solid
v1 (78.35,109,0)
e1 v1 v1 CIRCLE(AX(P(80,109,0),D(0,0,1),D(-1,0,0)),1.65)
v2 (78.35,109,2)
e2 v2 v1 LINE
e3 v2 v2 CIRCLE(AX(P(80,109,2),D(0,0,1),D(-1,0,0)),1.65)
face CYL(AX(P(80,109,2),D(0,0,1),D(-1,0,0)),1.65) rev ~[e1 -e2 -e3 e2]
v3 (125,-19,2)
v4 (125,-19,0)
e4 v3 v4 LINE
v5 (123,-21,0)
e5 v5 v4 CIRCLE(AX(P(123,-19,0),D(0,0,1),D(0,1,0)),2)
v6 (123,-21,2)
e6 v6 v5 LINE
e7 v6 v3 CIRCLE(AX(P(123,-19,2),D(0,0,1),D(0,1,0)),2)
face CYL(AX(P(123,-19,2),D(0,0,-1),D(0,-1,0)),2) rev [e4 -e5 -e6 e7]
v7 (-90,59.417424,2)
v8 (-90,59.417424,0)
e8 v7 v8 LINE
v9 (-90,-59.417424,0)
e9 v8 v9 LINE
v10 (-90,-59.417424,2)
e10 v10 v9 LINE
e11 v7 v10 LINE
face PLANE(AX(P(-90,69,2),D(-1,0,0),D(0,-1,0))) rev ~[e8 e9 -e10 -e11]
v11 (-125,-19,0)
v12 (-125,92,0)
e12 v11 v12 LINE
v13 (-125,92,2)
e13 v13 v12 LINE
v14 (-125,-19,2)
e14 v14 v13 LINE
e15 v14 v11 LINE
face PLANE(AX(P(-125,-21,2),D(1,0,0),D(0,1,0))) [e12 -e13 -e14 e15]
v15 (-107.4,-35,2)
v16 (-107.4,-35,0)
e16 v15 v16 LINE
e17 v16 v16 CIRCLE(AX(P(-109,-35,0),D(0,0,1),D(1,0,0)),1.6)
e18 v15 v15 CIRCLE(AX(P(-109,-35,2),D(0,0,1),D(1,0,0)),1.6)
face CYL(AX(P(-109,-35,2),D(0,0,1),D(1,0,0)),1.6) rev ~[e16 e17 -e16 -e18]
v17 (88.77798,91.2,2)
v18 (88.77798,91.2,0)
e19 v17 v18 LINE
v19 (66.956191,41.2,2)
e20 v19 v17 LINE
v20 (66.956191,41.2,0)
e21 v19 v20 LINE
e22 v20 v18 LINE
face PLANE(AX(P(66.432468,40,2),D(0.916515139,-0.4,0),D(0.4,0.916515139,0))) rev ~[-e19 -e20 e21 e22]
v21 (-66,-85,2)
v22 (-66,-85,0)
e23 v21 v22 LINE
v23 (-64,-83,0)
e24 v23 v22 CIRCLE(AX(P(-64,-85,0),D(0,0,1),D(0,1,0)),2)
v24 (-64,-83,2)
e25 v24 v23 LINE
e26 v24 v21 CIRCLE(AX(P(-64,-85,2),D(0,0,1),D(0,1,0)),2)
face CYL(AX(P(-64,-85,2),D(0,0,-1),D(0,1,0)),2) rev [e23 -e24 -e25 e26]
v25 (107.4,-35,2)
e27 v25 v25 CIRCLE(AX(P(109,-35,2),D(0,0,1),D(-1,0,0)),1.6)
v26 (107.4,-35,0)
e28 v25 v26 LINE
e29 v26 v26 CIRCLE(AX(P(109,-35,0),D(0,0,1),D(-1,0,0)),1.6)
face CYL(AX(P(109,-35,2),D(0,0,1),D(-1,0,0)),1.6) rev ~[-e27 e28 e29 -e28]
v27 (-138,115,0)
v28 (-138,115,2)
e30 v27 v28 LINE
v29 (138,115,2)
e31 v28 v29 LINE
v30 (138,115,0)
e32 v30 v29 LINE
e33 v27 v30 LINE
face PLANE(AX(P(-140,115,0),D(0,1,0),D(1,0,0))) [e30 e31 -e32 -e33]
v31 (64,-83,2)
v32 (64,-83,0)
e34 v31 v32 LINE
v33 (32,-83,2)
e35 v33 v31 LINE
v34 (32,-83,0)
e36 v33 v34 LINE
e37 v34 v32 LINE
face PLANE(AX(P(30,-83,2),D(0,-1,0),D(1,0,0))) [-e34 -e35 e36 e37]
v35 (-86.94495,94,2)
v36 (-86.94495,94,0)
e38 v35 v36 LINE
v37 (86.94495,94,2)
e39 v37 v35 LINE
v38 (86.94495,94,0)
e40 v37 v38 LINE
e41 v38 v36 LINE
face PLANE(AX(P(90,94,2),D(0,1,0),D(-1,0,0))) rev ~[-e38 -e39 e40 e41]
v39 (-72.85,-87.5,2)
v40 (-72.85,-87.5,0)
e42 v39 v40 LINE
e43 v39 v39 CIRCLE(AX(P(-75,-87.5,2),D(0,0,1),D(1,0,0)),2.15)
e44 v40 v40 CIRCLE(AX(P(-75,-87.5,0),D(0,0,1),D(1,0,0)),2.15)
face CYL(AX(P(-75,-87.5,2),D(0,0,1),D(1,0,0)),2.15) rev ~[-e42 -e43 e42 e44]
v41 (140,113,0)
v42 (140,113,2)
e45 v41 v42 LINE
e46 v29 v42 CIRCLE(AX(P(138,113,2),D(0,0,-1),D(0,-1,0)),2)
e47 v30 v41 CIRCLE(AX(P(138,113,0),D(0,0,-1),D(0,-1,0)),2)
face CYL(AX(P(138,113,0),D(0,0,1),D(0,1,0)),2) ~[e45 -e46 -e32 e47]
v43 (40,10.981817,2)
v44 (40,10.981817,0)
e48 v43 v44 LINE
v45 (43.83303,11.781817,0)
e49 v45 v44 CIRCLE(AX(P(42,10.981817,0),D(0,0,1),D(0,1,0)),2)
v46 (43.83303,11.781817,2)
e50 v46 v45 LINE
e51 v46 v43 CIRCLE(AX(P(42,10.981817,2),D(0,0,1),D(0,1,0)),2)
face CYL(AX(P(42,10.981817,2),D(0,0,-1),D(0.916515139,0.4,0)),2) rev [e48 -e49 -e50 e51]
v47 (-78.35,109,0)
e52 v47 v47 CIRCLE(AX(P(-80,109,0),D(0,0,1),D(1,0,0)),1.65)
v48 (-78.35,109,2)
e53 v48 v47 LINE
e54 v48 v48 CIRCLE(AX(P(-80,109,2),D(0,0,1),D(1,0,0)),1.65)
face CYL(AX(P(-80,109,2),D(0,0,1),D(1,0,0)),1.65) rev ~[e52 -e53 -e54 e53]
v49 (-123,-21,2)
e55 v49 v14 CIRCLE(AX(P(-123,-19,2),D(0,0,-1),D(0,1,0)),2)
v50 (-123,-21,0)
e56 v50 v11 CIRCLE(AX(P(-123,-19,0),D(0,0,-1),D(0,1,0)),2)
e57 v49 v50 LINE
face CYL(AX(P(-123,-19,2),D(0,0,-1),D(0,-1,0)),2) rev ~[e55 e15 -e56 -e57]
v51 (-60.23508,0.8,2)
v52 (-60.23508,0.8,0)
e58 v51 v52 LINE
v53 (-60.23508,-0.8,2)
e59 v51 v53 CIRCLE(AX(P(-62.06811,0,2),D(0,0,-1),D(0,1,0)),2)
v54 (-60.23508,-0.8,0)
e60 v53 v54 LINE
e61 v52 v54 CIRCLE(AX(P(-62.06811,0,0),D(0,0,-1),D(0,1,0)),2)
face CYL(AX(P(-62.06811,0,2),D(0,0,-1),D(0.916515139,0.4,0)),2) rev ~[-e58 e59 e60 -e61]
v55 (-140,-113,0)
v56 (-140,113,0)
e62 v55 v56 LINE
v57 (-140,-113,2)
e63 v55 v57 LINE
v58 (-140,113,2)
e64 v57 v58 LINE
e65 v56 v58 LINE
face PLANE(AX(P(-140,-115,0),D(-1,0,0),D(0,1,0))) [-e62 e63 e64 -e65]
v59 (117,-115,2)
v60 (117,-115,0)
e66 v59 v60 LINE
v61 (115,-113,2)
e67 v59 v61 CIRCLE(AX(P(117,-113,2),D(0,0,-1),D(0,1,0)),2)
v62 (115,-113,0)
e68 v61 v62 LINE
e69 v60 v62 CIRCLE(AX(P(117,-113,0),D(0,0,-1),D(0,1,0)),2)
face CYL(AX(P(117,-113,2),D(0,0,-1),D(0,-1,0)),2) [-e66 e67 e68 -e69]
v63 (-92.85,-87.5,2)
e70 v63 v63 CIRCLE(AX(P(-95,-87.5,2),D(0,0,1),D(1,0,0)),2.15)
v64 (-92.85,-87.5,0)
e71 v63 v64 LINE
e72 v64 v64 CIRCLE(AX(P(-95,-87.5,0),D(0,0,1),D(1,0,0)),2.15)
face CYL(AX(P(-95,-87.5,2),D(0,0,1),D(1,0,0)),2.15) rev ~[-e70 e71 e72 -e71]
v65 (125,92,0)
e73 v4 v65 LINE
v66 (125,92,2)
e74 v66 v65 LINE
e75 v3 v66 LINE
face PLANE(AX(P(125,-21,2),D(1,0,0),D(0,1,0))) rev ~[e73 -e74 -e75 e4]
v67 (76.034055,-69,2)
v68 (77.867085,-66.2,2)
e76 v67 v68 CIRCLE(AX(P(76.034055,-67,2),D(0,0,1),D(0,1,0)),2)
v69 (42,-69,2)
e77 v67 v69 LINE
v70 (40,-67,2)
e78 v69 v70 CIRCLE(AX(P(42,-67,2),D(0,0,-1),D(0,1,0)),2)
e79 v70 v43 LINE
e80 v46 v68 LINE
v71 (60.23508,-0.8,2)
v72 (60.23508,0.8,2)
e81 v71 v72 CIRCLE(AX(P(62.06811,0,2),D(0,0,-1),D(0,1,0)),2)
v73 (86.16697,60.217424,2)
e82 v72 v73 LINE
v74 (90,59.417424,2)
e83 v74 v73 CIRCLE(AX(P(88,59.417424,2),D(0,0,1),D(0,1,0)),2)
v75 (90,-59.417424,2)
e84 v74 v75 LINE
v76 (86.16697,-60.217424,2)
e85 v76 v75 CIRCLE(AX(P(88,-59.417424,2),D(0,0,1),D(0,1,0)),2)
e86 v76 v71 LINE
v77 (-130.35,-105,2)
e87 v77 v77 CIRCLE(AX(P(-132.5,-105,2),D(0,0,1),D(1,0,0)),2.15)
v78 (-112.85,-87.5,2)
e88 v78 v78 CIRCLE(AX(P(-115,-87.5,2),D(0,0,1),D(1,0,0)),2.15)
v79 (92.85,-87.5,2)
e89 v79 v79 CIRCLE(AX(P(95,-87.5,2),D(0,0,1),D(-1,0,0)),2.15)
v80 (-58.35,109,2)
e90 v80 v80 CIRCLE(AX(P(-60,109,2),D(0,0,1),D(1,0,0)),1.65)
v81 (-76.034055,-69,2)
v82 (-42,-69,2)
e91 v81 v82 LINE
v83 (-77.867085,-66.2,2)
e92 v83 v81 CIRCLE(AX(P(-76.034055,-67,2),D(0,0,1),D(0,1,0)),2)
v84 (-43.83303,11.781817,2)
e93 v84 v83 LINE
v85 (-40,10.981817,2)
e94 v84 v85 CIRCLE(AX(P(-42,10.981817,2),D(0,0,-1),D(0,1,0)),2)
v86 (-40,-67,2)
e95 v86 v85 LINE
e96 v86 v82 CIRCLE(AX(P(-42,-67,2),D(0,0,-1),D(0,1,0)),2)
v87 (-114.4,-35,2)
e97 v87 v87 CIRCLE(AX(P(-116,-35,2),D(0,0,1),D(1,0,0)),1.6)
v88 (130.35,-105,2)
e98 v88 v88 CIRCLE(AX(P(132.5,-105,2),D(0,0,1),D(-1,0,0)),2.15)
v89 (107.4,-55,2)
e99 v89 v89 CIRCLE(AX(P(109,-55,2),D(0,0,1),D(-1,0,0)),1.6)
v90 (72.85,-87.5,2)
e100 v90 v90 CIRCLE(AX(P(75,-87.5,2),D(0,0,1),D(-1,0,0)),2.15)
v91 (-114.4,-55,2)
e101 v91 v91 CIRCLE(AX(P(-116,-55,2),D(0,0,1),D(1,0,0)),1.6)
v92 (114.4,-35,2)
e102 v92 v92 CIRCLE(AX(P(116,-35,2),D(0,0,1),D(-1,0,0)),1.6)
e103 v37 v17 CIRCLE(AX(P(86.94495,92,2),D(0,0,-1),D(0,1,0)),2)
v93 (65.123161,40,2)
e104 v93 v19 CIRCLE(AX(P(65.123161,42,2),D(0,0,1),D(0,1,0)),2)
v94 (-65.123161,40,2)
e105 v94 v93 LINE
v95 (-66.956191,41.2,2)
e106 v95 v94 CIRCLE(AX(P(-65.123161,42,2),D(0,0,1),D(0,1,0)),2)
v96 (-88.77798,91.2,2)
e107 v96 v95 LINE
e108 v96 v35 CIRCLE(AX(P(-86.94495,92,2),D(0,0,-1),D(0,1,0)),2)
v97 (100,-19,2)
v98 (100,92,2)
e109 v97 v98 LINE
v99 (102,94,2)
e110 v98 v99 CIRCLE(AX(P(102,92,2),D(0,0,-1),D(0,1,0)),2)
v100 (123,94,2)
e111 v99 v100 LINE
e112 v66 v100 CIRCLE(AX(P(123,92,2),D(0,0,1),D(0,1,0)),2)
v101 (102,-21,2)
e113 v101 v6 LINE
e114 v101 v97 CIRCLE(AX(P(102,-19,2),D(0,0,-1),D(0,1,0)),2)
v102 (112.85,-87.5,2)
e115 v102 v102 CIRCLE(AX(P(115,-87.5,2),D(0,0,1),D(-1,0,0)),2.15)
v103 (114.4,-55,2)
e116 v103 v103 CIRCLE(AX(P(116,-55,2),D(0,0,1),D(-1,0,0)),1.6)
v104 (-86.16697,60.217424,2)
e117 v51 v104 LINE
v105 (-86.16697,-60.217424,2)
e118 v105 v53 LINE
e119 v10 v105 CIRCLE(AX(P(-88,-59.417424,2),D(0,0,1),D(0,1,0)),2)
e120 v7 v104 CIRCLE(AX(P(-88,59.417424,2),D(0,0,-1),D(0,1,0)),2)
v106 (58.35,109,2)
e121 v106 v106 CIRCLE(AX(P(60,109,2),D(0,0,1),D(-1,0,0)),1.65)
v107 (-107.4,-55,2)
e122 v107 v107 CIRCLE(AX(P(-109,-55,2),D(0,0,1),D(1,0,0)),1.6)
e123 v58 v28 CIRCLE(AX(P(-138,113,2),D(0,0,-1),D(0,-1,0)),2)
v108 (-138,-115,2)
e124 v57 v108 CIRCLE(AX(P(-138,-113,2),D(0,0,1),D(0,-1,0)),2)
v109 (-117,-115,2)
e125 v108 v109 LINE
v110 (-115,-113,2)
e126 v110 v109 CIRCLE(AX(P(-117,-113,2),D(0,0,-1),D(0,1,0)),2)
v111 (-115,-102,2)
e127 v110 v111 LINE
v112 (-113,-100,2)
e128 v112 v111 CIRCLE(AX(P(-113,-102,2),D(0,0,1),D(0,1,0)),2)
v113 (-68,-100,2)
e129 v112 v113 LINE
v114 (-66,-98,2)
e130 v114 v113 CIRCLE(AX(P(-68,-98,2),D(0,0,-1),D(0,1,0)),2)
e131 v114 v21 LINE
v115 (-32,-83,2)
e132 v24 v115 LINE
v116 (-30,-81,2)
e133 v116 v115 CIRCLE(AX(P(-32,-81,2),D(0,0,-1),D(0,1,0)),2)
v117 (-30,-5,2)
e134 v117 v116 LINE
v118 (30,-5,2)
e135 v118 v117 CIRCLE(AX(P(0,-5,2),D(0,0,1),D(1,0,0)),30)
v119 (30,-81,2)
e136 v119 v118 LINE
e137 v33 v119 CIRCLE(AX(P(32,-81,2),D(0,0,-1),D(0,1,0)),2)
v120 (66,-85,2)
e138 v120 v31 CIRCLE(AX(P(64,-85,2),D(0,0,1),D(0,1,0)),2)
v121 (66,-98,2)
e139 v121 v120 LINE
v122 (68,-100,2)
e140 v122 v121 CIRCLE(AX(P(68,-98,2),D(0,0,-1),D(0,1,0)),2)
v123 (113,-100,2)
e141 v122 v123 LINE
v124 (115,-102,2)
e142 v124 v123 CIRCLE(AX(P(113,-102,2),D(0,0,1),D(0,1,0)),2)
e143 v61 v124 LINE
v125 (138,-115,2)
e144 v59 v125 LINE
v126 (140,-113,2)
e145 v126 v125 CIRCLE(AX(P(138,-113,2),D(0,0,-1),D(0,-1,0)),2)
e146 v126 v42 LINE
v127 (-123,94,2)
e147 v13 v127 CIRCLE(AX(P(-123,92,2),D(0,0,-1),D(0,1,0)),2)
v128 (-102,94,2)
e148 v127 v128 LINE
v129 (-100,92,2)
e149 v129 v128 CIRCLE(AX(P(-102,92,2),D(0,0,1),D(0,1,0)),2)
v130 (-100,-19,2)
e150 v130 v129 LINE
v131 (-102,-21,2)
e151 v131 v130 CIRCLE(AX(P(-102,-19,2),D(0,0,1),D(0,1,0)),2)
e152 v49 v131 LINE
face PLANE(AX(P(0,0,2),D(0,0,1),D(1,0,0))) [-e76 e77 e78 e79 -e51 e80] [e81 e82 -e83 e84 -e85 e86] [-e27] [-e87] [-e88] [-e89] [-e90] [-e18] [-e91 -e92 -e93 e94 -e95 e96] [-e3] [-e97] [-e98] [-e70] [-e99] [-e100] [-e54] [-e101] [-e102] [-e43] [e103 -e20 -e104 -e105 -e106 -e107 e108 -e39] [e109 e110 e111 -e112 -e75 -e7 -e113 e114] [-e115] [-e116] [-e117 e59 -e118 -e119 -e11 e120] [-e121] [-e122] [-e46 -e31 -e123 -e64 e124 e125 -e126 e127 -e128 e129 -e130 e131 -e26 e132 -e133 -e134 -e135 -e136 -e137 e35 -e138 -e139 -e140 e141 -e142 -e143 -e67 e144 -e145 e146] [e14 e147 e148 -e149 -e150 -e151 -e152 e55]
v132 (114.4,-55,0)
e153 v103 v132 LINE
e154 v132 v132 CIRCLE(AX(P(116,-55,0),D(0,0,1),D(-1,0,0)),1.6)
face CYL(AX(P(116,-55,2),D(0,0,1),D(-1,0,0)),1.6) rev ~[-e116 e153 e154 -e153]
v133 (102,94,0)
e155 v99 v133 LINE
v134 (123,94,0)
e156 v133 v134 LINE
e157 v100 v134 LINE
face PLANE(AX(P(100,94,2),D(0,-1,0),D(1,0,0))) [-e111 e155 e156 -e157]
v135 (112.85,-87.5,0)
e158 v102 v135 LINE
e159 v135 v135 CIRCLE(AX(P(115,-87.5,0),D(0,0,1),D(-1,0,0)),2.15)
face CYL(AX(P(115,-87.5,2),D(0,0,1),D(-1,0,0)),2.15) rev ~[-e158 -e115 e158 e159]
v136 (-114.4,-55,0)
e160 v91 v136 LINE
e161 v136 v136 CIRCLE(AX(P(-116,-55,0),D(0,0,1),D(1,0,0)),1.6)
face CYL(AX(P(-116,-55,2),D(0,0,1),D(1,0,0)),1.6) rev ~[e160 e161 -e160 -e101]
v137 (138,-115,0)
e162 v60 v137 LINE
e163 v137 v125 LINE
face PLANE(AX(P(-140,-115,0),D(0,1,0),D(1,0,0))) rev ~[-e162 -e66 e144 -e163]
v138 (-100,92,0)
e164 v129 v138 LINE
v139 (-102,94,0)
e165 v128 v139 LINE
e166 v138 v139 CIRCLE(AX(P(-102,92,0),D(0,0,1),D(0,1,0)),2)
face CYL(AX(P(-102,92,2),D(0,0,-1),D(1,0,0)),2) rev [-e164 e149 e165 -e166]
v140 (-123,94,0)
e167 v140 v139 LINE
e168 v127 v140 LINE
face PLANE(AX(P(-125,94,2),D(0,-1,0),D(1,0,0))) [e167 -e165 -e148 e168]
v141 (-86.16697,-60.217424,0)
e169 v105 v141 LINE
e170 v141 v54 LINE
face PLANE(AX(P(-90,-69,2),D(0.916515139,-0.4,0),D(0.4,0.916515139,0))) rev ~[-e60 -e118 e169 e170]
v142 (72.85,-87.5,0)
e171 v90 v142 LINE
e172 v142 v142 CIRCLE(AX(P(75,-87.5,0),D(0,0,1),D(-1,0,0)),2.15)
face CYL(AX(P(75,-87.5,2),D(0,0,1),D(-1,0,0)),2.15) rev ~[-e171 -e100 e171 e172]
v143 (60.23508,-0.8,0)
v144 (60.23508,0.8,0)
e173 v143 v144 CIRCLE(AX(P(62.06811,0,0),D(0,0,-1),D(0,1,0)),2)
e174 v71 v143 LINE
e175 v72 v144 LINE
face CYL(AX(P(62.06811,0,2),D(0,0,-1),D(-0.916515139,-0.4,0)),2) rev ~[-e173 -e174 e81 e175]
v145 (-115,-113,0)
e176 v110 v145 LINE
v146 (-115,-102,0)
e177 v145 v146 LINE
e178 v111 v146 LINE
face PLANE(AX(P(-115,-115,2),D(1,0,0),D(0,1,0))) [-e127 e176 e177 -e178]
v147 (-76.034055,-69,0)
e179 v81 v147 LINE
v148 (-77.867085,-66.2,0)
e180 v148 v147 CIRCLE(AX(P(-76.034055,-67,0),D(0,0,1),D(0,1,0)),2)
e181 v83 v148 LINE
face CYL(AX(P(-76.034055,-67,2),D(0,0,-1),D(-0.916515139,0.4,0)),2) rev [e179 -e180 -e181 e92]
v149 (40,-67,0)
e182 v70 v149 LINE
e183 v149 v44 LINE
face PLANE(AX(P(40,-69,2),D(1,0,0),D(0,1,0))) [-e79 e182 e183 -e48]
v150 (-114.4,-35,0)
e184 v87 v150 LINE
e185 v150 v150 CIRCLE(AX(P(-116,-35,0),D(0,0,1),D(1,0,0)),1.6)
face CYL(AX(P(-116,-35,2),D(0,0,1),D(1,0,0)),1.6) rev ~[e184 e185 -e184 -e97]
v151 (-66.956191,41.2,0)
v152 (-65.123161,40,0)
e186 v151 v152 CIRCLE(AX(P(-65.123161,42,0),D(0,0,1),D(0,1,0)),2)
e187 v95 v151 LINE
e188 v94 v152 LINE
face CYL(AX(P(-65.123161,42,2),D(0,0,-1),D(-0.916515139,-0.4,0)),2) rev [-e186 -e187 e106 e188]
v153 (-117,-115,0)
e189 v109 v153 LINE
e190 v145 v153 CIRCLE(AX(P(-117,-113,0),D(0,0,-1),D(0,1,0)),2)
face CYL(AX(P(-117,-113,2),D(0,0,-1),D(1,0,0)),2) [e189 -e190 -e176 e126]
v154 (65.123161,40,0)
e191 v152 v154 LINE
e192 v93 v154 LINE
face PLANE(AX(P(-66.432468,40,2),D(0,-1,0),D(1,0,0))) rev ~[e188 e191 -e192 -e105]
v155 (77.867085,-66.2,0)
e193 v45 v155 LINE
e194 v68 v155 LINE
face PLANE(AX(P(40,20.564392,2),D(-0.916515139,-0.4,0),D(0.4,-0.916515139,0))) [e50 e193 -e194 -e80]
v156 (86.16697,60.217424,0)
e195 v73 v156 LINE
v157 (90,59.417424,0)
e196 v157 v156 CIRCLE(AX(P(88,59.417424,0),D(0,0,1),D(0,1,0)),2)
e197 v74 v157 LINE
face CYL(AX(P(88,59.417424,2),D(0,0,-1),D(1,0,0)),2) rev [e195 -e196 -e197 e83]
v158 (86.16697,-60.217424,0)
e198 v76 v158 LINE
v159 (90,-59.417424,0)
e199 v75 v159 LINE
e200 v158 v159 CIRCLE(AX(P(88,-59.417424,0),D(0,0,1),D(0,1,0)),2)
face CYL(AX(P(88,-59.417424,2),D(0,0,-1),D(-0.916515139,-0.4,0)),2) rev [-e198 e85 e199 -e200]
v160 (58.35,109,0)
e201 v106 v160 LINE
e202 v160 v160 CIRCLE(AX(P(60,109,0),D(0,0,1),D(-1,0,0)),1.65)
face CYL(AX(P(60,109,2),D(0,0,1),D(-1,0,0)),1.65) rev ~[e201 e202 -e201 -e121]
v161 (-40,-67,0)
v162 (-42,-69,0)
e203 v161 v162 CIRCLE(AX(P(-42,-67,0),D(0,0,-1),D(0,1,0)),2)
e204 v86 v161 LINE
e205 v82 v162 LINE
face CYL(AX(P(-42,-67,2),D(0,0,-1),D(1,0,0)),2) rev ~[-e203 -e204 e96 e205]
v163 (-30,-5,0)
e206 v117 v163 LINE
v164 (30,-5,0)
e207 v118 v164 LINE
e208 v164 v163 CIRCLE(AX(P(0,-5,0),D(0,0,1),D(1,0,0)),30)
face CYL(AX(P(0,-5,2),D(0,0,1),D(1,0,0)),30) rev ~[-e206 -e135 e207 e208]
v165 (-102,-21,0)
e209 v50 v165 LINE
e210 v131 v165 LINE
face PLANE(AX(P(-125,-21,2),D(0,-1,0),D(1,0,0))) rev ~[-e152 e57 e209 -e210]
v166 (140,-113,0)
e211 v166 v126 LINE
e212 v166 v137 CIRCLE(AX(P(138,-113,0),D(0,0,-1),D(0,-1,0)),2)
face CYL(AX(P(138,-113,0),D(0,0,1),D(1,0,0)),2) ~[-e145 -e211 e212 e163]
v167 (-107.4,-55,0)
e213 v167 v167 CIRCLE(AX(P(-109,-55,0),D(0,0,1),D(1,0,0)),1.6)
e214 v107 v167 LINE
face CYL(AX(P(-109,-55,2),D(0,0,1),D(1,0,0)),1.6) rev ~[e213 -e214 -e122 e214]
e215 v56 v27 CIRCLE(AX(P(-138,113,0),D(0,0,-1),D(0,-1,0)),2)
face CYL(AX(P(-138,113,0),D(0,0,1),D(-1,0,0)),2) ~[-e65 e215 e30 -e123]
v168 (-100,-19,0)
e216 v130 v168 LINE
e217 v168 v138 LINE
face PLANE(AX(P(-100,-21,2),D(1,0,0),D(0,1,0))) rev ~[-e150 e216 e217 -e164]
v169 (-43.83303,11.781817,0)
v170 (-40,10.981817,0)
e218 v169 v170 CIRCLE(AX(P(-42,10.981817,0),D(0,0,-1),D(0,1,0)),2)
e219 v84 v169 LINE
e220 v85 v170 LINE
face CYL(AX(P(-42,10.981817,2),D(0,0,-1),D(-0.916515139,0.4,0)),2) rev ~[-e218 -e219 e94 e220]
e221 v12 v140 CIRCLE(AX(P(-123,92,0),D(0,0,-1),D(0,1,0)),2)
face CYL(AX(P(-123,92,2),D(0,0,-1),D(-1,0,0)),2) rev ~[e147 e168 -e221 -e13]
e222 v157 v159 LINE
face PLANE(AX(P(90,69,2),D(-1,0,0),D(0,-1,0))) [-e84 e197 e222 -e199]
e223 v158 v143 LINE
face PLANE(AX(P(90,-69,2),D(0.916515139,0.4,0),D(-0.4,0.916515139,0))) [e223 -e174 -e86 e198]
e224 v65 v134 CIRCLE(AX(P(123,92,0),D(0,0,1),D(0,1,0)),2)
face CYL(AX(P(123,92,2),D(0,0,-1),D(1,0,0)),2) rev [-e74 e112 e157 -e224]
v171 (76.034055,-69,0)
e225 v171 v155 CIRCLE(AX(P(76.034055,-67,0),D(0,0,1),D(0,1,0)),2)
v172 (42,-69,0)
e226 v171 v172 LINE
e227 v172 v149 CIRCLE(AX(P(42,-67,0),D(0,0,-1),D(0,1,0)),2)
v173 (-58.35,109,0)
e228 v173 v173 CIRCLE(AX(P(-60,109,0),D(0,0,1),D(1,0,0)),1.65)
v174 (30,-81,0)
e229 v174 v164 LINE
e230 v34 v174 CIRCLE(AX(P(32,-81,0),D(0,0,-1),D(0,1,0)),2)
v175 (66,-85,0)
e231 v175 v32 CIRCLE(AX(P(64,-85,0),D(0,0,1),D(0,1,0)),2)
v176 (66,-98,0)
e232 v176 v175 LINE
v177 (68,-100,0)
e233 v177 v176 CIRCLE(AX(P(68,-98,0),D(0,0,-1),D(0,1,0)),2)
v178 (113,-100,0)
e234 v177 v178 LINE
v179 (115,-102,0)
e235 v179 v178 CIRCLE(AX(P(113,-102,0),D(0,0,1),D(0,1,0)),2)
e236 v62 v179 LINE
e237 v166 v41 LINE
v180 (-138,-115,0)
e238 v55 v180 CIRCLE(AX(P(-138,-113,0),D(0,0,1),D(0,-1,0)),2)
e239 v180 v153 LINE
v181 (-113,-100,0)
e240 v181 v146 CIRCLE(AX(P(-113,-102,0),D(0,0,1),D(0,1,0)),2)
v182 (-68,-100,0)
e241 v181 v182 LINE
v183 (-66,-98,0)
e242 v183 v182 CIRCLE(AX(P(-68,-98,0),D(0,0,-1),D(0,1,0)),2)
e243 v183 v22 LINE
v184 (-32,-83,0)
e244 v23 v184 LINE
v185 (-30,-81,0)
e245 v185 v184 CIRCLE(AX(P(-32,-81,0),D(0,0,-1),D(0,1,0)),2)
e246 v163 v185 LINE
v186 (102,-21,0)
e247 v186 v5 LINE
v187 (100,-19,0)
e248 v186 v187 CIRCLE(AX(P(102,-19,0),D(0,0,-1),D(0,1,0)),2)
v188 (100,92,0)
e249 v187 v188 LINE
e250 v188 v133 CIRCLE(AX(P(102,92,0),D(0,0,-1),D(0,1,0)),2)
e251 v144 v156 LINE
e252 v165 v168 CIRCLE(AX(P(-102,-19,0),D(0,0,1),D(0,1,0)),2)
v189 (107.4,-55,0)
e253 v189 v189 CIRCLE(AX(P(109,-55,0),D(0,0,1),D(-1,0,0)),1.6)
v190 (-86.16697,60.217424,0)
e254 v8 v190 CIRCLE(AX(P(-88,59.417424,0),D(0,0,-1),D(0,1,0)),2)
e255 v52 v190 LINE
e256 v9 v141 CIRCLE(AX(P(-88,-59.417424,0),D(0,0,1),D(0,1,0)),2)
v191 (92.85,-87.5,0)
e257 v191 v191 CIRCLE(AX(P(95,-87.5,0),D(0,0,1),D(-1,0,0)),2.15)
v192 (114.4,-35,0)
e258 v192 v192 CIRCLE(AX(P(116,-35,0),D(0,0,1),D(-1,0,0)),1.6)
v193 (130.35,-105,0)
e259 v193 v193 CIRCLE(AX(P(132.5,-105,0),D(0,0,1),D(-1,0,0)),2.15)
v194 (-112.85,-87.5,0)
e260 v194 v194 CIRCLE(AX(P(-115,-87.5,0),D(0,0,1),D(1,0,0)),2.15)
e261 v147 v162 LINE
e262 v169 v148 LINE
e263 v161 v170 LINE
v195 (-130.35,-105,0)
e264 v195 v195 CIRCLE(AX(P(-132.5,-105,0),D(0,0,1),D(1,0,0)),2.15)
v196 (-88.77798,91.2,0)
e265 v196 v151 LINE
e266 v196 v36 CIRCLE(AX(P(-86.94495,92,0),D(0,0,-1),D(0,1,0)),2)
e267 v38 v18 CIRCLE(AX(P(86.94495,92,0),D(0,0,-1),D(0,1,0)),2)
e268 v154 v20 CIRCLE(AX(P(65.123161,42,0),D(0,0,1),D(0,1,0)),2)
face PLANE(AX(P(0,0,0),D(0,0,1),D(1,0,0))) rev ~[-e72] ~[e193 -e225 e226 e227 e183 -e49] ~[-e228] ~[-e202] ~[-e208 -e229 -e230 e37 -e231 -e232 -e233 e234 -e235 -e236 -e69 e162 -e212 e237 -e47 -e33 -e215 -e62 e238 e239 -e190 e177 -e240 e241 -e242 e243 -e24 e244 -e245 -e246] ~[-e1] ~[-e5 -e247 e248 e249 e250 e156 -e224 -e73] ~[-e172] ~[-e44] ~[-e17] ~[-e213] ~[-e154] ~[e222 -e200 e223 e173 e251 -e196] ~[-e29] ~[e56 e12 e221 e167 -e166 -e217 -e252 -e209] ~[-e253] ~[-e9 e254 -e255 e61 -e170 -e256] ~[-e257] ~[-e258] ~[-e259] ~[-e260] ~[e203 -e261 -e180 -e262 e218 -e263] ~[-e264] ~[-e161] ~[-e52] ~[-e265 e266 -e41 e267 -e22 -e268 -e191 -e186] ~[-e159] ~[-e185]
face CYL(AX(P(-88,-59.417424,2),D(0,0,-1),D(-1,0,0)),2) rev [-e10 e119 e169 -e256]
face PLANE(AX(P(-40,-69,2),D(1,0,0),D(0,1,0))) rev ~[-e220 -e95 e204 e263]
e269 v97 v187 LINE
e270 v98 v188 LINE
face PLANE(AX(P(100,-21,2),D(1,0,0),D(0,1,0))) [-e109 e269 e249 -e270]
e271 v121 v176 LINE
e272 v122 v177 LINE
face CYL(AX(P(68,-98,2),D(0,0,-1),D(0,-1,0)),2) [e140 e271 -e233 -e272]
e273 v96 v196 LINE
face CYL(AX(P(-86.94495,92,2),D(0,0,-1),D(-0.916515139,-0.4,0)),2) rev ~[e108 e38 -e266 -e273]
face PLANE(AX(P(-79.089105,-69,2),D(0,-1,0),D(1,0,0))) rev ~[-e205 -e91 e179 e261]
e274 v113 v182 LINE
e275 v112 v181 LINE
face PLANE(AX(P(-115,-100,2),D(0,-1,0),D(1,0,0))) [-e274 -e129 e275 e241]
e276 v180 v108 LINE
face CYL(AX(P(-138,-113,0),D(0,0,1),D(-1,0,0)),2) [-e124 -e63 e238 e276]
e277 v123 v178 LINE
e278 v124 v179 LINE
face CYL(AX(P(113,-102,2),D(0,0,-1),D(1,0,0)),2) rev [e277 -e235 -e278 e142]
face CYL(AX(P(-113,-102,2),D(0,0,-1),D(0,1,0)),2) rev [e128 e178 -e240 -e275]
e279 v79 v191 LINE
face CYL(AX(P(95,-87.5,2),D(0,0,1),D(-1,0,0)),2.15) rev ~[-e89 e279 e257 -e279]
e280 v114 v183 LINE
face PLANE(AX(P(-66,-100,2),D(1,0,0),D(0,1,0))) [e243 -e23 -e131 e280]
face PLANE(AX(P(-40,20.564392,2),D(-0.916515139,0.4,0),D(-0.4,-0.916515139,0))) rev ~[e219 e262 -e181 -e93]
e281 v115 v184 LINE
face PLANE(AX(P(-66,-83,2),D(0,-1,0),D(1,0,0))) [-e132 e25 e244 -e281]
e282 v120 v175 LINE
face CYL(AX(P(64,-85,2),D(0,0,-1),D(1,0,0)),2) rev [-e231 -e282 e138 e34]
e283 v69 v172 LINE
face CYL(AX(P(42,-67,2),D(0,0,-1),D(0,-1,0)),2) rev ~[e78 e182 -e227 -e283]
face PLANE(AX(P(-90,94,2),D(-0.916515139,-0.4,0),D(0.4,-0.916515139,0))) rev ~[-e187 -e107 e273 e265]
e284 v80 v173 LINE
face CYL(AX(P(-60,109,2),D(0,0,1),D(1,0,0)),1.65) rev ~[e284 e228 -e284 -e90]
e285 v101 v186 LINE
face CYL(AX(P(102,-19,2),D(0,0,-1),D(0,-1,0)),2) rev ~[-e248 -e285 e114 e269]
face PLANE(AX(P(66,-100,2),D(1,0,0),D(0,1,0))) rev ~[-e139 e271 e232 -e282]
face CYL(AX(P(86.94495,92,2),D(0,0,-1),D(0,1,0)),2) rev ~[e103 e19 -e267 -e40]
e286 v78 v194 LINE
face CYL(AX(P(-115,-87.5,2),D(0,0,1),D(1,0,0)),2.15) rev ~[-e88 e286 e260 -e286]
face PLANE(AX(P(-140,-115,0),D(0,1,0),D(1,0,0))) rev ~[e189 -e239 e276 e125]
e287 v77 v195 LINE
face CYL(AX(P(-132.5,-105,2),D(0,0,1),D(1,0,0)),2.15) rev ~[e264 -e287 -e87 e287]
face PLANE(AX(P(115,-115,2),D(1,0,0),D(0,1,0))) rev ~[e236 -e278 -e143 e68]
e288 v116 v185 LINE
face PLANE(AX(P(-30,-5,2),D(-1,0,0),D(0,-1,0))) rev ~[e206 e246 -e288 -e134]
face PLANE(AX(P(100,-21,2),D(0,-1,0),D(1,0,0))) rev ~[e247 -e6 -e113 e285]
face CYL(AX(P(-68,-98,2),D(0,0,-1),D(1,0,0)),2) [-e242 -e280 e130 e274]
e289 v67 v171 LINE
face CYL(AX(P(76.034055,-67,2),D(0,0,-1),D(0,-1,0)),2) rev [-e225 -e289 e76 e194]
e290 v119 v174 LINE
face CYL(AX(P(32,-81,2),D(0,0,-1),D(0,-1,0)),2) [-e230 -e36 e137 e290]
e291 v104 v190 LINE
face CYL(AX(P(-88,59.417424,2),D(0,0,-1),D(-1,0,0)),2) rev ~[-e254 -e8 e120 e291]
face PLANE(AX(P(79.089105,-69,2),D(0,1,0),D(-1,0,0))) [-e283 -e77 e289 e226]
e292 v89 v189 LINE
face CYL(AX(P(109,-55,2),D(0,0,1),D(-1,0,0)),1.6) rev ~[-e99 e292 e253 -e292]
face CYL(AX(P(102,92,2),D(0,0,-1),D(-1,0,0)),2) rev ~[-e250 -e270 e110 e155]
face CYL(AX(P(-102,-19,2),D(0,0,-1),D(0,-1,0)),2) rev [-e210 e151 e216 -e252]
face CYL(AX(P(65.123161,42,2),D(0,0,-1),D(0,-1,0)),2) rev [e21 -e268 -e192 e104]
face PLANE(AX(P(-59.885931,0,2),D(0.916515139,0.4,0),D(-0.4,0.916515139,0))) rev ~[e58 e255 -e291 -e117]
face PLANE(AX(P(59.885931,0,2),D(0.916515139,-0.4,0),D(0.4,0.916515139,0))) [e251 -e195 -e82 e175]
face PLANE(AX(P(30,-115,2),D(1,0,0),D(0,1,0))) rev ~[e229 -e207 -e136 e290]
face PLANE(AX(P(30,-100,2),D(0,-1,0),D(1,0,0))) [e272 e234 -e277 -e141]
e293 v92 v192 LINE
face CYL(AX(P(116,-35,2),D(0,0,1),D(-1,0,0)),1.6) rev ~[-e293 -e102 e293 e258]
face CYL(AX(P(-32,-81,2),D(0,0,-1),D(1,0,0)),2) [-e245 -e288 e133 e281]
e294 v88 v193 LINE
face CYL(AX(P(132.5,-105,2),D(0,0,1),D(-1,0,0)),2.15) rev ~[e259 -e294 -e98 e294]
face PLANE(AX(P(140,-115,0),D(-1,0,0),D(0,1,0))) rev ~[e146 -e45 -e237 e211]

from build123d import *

# Parameters (mm, degrees)
SKETCH_1_W          = 280
SKETCH_1_H          = 230
EXTRUDE_1_DEPTH     = 2
SKETCH_2_R          = 2.15
CUT_EXTRUDE_1_DEPTH = 182.18774793
SKETCH_3_R          = 30
CUT_EXTRUDE_2_DEPTH = 182.18774793
SKETCH_4_R          = 1.6
CUT_EXTRUDE_3_DEPTH = 182.18774793
SKETCH_5_R          = 1.65
CUT_EXTRUDE_4_DEPTH = 182.18774793
SKETCH_7_W          = 25
SKETCH_7_H          = 115
SKETCH_7_W_2        = 85
SKETCH_7_H_2        = 15
CUT_EXTRUDE_5_DEPTH = 182.18774793
SKETCH_9_W          = 36
SKETCH_9_H          = 17
CUT_EXTRUDE_6_DEPTH = 182.18774793
FILLET_1_R          = 2
FILLET_2_R          = 2


with BuildPart() as part:
    # 草图1 → 凸台-拉伸1 (new body)
    with BuildSketch(Plane.XY):
        Rectangle(SKETCH_1_W, SKETCH_1_H)
    extrude(amount=EXTRUDE_1_DEPTH)

    # 草图2 → 切除-拉伸1 (cut, through all)
    with BuildSketch(Plane.XY.offset(2)):
        with Locations((-132.5, -105)):
            Circle(SKETCH_2_R)
        with Locations(Location((132.5, -105, 0), (0, 0, 180))):
            Circle(SKETCH_2_R)
        with Locations((-115, -87.5)):
            Circle(SKETCH_2_R)
        with Locations((-95, -87.5)):
            Circle(SKETCH_2_R)
        with Locations((-75, -87.5)):
            Circle(SKETCH_2_R)
        with Locations(Location((75, -87.5, 0), (0, 0, 180))):
            Circle(SKETCH_2_R)
        with Locations(Location((95, -87.5, 0), (0, 0, 180))):
            Circle(SKETCH_2_R)
        with Locations(Location((115, -87.5, 0), (0, 0, 180))):
            Circle(SKETCH_2_R)
    extrude(amount=-CUT_EXTRUDE_1_DEPTH, mode=Mode.SUBTRACT)

    # 草图3 → 切除-拉伸2 (cut, through all)
    with BuildSketch(Plane.XY.offset(2)):
        with Locations((0, -5)):
            Circle(SKETCH_3_R)
        with BuildLine():
            ThreePointArc((30, -5), (0, -35), (-30, -5))
            Line((-30, -5), (-30, -115))
            Line((-30, -115), (30, -115))
            Line((30, -115), (30, -5))
        make_face()
    extrude(amount=-CUT_EXTRUDE_2_DEPTH, mode=Mode.SUBTRACT)

    # 草图4 → 切除-拉伸3 (cut, through all)
    with BuildSketch(Plane.XY.offset(2)):
        with Locations((-109, -35)):
            Circle(SKETCH_4_R)
        with Locations((-109, -55)):
            Circle(SKETCH_4_R)
        with Locations((-116, -35)):
            Circle(SKETCH_4_R)
        with Locations((-116, -55)):
            Circle(SKETCH_4_R)
        with Locations(Location((116, -55, 0), (0, 0, 180))):
            Circle(SKETCH_4_R)
        with Locations(Location((116, -35, 0), (0, 0, 180))):
            Circle(SKETCH_4_R)
        with Locations(Location((109, -55, 0), (0, 0, 180))):
            Circle(SKETCH_4_R)
        with Locations(Location((109, -35, 0), (0, 0, 180))):
            Circle(SKETCH_4_R)
    extrude(amount=-CUT_EXTRUDE_3_DEPTH, mode=Mode.SUBTRACT)

    # 草图5 → 切除-拉伸4 (cut, through all)
    with BuildSketch(Plane.XY.offset(2)):
        with Locations((-60, 109)):
            Circle(SKETCH_5_R)
        with Locations((-80, 109)):
            Circle(SKETCH_5_R)
        with Locations(Location((80, 109, 0), (0, 0, 180))):
            Circle(SKETCH_5_R)
        with Locations(Location((60, 109, 0), (0, 0, 180))):
            Circle(SKETCH_5_R)
    extrude(amount=-CUT_EXTRUDE_4_DEPTH, mode=Mode.SUBTRACT)

    # 草图7 → 切除-拉伸5 (cut, through all)
    with BuildSketch(Plane.XY.offset(2)):
        Polygon((-90, 69), (-90, -69), (-59.885931147, 0), align=None)
        Polygon((-90, 94), (-66.432467855, 40), (66.432467855, 40), (90, 94), align=None)
        Polygon((-40, 20.564392374), (-79.089105488, -69), (-40, -69), align=None)
        Polygon((40, -69), (40, 20.564392374), (79.089105488, -69), align=None)
        Polygon((59.885931147, 0), (90, 69), (90, -69), align=None)
        with Locations((112.5, 36.5)):
            Rectangle(SKETCH_7_W, SKETCH_7_H)
        with Locations((-112.5, 36.5)):
            Rectangle(SKETCH_7_W, SKETCH_7_H)
        with Locations((72.5, -107.5)):
            Rectangle(SKETCH_7_W_2, SKETCH_7_H_2)
        with Locations((-72.5, -107.5)):
            Rectangle(SKETCH_7_W_2, SKETCH_7_H_2)
    extrude(amount=-CUT_EXTRUDE_5_DEPTH, mode=Mode.SUBTRACT)

    # 草图9 → 切除-拉伸6 (cut, through all)
    with BuildSketch(Plane.XY.offset(2)):
        with Locations((48, -91.5)):
            Rectangle(SKETCH_9_W, SKETCH_9_H)
        with Locations((-48, -91.5)):
            Rectangle(SKETCH_9_W, SKETCH_9_H)
    extrude(amount=-CUT_EXTRUDE_6_DEPTH, mode=Mode.SUBTRACT)

    # 圆角1
    fillet_1_edges = [part.edges().sort_by_distance(p)[0] for p in [
        (79.089105488, -69, 1),
        (40, -69, 1),
        (40, 20.564392374, 1),
        (-40, -69, 1),
        (-79.089105488, -69, 1),
        (-40, 20.564392374, 1),
        (66.432467855, 40, 1),
        (-66.432467855, 40, 1),
        (-90, 94, 1),
        (90, 94, 1),
        (-125, -21, 1),
        (-125, 94, 1),
        (-100, 94, 1),
        (-100, -21, 1),
        (90, -69, 1),
        (59.885931147, 0, 1),
        (90, 69, 1),
        (100, 94, 1),
        (125, 94, 1),
        (125, -21, 1),
        (100, -21, 1),
        (-90, 69, 1),
        (-59.885931147, 0, 1),
        (-90, -69, 1),
    ]]
    fillet(fillet_1_edges, radius=FILLET_1_R)

    # 圆角2
    fillet_2_edges = [part.edges().sort_by_distance(p)[0] for p in [
        (115, -115, 1),
        (115, -100, 1),
        (-115, -115, 1),
        (-115, -100, 1),
        (-30, -83, 1),
        (-66, -100, 1),
        (-66, -83, 1),
        (66, -100, 1),
        (30, -83, 1),
        (66, -83, 1),
        (140, -115, 1),
        (-140, -115, 1),
        (-140, 115, 1),
        (140, 115, 1),
    ]]
    fillet(fillet_2_edges, radius=FILLET_2_R)


solid = part.part
